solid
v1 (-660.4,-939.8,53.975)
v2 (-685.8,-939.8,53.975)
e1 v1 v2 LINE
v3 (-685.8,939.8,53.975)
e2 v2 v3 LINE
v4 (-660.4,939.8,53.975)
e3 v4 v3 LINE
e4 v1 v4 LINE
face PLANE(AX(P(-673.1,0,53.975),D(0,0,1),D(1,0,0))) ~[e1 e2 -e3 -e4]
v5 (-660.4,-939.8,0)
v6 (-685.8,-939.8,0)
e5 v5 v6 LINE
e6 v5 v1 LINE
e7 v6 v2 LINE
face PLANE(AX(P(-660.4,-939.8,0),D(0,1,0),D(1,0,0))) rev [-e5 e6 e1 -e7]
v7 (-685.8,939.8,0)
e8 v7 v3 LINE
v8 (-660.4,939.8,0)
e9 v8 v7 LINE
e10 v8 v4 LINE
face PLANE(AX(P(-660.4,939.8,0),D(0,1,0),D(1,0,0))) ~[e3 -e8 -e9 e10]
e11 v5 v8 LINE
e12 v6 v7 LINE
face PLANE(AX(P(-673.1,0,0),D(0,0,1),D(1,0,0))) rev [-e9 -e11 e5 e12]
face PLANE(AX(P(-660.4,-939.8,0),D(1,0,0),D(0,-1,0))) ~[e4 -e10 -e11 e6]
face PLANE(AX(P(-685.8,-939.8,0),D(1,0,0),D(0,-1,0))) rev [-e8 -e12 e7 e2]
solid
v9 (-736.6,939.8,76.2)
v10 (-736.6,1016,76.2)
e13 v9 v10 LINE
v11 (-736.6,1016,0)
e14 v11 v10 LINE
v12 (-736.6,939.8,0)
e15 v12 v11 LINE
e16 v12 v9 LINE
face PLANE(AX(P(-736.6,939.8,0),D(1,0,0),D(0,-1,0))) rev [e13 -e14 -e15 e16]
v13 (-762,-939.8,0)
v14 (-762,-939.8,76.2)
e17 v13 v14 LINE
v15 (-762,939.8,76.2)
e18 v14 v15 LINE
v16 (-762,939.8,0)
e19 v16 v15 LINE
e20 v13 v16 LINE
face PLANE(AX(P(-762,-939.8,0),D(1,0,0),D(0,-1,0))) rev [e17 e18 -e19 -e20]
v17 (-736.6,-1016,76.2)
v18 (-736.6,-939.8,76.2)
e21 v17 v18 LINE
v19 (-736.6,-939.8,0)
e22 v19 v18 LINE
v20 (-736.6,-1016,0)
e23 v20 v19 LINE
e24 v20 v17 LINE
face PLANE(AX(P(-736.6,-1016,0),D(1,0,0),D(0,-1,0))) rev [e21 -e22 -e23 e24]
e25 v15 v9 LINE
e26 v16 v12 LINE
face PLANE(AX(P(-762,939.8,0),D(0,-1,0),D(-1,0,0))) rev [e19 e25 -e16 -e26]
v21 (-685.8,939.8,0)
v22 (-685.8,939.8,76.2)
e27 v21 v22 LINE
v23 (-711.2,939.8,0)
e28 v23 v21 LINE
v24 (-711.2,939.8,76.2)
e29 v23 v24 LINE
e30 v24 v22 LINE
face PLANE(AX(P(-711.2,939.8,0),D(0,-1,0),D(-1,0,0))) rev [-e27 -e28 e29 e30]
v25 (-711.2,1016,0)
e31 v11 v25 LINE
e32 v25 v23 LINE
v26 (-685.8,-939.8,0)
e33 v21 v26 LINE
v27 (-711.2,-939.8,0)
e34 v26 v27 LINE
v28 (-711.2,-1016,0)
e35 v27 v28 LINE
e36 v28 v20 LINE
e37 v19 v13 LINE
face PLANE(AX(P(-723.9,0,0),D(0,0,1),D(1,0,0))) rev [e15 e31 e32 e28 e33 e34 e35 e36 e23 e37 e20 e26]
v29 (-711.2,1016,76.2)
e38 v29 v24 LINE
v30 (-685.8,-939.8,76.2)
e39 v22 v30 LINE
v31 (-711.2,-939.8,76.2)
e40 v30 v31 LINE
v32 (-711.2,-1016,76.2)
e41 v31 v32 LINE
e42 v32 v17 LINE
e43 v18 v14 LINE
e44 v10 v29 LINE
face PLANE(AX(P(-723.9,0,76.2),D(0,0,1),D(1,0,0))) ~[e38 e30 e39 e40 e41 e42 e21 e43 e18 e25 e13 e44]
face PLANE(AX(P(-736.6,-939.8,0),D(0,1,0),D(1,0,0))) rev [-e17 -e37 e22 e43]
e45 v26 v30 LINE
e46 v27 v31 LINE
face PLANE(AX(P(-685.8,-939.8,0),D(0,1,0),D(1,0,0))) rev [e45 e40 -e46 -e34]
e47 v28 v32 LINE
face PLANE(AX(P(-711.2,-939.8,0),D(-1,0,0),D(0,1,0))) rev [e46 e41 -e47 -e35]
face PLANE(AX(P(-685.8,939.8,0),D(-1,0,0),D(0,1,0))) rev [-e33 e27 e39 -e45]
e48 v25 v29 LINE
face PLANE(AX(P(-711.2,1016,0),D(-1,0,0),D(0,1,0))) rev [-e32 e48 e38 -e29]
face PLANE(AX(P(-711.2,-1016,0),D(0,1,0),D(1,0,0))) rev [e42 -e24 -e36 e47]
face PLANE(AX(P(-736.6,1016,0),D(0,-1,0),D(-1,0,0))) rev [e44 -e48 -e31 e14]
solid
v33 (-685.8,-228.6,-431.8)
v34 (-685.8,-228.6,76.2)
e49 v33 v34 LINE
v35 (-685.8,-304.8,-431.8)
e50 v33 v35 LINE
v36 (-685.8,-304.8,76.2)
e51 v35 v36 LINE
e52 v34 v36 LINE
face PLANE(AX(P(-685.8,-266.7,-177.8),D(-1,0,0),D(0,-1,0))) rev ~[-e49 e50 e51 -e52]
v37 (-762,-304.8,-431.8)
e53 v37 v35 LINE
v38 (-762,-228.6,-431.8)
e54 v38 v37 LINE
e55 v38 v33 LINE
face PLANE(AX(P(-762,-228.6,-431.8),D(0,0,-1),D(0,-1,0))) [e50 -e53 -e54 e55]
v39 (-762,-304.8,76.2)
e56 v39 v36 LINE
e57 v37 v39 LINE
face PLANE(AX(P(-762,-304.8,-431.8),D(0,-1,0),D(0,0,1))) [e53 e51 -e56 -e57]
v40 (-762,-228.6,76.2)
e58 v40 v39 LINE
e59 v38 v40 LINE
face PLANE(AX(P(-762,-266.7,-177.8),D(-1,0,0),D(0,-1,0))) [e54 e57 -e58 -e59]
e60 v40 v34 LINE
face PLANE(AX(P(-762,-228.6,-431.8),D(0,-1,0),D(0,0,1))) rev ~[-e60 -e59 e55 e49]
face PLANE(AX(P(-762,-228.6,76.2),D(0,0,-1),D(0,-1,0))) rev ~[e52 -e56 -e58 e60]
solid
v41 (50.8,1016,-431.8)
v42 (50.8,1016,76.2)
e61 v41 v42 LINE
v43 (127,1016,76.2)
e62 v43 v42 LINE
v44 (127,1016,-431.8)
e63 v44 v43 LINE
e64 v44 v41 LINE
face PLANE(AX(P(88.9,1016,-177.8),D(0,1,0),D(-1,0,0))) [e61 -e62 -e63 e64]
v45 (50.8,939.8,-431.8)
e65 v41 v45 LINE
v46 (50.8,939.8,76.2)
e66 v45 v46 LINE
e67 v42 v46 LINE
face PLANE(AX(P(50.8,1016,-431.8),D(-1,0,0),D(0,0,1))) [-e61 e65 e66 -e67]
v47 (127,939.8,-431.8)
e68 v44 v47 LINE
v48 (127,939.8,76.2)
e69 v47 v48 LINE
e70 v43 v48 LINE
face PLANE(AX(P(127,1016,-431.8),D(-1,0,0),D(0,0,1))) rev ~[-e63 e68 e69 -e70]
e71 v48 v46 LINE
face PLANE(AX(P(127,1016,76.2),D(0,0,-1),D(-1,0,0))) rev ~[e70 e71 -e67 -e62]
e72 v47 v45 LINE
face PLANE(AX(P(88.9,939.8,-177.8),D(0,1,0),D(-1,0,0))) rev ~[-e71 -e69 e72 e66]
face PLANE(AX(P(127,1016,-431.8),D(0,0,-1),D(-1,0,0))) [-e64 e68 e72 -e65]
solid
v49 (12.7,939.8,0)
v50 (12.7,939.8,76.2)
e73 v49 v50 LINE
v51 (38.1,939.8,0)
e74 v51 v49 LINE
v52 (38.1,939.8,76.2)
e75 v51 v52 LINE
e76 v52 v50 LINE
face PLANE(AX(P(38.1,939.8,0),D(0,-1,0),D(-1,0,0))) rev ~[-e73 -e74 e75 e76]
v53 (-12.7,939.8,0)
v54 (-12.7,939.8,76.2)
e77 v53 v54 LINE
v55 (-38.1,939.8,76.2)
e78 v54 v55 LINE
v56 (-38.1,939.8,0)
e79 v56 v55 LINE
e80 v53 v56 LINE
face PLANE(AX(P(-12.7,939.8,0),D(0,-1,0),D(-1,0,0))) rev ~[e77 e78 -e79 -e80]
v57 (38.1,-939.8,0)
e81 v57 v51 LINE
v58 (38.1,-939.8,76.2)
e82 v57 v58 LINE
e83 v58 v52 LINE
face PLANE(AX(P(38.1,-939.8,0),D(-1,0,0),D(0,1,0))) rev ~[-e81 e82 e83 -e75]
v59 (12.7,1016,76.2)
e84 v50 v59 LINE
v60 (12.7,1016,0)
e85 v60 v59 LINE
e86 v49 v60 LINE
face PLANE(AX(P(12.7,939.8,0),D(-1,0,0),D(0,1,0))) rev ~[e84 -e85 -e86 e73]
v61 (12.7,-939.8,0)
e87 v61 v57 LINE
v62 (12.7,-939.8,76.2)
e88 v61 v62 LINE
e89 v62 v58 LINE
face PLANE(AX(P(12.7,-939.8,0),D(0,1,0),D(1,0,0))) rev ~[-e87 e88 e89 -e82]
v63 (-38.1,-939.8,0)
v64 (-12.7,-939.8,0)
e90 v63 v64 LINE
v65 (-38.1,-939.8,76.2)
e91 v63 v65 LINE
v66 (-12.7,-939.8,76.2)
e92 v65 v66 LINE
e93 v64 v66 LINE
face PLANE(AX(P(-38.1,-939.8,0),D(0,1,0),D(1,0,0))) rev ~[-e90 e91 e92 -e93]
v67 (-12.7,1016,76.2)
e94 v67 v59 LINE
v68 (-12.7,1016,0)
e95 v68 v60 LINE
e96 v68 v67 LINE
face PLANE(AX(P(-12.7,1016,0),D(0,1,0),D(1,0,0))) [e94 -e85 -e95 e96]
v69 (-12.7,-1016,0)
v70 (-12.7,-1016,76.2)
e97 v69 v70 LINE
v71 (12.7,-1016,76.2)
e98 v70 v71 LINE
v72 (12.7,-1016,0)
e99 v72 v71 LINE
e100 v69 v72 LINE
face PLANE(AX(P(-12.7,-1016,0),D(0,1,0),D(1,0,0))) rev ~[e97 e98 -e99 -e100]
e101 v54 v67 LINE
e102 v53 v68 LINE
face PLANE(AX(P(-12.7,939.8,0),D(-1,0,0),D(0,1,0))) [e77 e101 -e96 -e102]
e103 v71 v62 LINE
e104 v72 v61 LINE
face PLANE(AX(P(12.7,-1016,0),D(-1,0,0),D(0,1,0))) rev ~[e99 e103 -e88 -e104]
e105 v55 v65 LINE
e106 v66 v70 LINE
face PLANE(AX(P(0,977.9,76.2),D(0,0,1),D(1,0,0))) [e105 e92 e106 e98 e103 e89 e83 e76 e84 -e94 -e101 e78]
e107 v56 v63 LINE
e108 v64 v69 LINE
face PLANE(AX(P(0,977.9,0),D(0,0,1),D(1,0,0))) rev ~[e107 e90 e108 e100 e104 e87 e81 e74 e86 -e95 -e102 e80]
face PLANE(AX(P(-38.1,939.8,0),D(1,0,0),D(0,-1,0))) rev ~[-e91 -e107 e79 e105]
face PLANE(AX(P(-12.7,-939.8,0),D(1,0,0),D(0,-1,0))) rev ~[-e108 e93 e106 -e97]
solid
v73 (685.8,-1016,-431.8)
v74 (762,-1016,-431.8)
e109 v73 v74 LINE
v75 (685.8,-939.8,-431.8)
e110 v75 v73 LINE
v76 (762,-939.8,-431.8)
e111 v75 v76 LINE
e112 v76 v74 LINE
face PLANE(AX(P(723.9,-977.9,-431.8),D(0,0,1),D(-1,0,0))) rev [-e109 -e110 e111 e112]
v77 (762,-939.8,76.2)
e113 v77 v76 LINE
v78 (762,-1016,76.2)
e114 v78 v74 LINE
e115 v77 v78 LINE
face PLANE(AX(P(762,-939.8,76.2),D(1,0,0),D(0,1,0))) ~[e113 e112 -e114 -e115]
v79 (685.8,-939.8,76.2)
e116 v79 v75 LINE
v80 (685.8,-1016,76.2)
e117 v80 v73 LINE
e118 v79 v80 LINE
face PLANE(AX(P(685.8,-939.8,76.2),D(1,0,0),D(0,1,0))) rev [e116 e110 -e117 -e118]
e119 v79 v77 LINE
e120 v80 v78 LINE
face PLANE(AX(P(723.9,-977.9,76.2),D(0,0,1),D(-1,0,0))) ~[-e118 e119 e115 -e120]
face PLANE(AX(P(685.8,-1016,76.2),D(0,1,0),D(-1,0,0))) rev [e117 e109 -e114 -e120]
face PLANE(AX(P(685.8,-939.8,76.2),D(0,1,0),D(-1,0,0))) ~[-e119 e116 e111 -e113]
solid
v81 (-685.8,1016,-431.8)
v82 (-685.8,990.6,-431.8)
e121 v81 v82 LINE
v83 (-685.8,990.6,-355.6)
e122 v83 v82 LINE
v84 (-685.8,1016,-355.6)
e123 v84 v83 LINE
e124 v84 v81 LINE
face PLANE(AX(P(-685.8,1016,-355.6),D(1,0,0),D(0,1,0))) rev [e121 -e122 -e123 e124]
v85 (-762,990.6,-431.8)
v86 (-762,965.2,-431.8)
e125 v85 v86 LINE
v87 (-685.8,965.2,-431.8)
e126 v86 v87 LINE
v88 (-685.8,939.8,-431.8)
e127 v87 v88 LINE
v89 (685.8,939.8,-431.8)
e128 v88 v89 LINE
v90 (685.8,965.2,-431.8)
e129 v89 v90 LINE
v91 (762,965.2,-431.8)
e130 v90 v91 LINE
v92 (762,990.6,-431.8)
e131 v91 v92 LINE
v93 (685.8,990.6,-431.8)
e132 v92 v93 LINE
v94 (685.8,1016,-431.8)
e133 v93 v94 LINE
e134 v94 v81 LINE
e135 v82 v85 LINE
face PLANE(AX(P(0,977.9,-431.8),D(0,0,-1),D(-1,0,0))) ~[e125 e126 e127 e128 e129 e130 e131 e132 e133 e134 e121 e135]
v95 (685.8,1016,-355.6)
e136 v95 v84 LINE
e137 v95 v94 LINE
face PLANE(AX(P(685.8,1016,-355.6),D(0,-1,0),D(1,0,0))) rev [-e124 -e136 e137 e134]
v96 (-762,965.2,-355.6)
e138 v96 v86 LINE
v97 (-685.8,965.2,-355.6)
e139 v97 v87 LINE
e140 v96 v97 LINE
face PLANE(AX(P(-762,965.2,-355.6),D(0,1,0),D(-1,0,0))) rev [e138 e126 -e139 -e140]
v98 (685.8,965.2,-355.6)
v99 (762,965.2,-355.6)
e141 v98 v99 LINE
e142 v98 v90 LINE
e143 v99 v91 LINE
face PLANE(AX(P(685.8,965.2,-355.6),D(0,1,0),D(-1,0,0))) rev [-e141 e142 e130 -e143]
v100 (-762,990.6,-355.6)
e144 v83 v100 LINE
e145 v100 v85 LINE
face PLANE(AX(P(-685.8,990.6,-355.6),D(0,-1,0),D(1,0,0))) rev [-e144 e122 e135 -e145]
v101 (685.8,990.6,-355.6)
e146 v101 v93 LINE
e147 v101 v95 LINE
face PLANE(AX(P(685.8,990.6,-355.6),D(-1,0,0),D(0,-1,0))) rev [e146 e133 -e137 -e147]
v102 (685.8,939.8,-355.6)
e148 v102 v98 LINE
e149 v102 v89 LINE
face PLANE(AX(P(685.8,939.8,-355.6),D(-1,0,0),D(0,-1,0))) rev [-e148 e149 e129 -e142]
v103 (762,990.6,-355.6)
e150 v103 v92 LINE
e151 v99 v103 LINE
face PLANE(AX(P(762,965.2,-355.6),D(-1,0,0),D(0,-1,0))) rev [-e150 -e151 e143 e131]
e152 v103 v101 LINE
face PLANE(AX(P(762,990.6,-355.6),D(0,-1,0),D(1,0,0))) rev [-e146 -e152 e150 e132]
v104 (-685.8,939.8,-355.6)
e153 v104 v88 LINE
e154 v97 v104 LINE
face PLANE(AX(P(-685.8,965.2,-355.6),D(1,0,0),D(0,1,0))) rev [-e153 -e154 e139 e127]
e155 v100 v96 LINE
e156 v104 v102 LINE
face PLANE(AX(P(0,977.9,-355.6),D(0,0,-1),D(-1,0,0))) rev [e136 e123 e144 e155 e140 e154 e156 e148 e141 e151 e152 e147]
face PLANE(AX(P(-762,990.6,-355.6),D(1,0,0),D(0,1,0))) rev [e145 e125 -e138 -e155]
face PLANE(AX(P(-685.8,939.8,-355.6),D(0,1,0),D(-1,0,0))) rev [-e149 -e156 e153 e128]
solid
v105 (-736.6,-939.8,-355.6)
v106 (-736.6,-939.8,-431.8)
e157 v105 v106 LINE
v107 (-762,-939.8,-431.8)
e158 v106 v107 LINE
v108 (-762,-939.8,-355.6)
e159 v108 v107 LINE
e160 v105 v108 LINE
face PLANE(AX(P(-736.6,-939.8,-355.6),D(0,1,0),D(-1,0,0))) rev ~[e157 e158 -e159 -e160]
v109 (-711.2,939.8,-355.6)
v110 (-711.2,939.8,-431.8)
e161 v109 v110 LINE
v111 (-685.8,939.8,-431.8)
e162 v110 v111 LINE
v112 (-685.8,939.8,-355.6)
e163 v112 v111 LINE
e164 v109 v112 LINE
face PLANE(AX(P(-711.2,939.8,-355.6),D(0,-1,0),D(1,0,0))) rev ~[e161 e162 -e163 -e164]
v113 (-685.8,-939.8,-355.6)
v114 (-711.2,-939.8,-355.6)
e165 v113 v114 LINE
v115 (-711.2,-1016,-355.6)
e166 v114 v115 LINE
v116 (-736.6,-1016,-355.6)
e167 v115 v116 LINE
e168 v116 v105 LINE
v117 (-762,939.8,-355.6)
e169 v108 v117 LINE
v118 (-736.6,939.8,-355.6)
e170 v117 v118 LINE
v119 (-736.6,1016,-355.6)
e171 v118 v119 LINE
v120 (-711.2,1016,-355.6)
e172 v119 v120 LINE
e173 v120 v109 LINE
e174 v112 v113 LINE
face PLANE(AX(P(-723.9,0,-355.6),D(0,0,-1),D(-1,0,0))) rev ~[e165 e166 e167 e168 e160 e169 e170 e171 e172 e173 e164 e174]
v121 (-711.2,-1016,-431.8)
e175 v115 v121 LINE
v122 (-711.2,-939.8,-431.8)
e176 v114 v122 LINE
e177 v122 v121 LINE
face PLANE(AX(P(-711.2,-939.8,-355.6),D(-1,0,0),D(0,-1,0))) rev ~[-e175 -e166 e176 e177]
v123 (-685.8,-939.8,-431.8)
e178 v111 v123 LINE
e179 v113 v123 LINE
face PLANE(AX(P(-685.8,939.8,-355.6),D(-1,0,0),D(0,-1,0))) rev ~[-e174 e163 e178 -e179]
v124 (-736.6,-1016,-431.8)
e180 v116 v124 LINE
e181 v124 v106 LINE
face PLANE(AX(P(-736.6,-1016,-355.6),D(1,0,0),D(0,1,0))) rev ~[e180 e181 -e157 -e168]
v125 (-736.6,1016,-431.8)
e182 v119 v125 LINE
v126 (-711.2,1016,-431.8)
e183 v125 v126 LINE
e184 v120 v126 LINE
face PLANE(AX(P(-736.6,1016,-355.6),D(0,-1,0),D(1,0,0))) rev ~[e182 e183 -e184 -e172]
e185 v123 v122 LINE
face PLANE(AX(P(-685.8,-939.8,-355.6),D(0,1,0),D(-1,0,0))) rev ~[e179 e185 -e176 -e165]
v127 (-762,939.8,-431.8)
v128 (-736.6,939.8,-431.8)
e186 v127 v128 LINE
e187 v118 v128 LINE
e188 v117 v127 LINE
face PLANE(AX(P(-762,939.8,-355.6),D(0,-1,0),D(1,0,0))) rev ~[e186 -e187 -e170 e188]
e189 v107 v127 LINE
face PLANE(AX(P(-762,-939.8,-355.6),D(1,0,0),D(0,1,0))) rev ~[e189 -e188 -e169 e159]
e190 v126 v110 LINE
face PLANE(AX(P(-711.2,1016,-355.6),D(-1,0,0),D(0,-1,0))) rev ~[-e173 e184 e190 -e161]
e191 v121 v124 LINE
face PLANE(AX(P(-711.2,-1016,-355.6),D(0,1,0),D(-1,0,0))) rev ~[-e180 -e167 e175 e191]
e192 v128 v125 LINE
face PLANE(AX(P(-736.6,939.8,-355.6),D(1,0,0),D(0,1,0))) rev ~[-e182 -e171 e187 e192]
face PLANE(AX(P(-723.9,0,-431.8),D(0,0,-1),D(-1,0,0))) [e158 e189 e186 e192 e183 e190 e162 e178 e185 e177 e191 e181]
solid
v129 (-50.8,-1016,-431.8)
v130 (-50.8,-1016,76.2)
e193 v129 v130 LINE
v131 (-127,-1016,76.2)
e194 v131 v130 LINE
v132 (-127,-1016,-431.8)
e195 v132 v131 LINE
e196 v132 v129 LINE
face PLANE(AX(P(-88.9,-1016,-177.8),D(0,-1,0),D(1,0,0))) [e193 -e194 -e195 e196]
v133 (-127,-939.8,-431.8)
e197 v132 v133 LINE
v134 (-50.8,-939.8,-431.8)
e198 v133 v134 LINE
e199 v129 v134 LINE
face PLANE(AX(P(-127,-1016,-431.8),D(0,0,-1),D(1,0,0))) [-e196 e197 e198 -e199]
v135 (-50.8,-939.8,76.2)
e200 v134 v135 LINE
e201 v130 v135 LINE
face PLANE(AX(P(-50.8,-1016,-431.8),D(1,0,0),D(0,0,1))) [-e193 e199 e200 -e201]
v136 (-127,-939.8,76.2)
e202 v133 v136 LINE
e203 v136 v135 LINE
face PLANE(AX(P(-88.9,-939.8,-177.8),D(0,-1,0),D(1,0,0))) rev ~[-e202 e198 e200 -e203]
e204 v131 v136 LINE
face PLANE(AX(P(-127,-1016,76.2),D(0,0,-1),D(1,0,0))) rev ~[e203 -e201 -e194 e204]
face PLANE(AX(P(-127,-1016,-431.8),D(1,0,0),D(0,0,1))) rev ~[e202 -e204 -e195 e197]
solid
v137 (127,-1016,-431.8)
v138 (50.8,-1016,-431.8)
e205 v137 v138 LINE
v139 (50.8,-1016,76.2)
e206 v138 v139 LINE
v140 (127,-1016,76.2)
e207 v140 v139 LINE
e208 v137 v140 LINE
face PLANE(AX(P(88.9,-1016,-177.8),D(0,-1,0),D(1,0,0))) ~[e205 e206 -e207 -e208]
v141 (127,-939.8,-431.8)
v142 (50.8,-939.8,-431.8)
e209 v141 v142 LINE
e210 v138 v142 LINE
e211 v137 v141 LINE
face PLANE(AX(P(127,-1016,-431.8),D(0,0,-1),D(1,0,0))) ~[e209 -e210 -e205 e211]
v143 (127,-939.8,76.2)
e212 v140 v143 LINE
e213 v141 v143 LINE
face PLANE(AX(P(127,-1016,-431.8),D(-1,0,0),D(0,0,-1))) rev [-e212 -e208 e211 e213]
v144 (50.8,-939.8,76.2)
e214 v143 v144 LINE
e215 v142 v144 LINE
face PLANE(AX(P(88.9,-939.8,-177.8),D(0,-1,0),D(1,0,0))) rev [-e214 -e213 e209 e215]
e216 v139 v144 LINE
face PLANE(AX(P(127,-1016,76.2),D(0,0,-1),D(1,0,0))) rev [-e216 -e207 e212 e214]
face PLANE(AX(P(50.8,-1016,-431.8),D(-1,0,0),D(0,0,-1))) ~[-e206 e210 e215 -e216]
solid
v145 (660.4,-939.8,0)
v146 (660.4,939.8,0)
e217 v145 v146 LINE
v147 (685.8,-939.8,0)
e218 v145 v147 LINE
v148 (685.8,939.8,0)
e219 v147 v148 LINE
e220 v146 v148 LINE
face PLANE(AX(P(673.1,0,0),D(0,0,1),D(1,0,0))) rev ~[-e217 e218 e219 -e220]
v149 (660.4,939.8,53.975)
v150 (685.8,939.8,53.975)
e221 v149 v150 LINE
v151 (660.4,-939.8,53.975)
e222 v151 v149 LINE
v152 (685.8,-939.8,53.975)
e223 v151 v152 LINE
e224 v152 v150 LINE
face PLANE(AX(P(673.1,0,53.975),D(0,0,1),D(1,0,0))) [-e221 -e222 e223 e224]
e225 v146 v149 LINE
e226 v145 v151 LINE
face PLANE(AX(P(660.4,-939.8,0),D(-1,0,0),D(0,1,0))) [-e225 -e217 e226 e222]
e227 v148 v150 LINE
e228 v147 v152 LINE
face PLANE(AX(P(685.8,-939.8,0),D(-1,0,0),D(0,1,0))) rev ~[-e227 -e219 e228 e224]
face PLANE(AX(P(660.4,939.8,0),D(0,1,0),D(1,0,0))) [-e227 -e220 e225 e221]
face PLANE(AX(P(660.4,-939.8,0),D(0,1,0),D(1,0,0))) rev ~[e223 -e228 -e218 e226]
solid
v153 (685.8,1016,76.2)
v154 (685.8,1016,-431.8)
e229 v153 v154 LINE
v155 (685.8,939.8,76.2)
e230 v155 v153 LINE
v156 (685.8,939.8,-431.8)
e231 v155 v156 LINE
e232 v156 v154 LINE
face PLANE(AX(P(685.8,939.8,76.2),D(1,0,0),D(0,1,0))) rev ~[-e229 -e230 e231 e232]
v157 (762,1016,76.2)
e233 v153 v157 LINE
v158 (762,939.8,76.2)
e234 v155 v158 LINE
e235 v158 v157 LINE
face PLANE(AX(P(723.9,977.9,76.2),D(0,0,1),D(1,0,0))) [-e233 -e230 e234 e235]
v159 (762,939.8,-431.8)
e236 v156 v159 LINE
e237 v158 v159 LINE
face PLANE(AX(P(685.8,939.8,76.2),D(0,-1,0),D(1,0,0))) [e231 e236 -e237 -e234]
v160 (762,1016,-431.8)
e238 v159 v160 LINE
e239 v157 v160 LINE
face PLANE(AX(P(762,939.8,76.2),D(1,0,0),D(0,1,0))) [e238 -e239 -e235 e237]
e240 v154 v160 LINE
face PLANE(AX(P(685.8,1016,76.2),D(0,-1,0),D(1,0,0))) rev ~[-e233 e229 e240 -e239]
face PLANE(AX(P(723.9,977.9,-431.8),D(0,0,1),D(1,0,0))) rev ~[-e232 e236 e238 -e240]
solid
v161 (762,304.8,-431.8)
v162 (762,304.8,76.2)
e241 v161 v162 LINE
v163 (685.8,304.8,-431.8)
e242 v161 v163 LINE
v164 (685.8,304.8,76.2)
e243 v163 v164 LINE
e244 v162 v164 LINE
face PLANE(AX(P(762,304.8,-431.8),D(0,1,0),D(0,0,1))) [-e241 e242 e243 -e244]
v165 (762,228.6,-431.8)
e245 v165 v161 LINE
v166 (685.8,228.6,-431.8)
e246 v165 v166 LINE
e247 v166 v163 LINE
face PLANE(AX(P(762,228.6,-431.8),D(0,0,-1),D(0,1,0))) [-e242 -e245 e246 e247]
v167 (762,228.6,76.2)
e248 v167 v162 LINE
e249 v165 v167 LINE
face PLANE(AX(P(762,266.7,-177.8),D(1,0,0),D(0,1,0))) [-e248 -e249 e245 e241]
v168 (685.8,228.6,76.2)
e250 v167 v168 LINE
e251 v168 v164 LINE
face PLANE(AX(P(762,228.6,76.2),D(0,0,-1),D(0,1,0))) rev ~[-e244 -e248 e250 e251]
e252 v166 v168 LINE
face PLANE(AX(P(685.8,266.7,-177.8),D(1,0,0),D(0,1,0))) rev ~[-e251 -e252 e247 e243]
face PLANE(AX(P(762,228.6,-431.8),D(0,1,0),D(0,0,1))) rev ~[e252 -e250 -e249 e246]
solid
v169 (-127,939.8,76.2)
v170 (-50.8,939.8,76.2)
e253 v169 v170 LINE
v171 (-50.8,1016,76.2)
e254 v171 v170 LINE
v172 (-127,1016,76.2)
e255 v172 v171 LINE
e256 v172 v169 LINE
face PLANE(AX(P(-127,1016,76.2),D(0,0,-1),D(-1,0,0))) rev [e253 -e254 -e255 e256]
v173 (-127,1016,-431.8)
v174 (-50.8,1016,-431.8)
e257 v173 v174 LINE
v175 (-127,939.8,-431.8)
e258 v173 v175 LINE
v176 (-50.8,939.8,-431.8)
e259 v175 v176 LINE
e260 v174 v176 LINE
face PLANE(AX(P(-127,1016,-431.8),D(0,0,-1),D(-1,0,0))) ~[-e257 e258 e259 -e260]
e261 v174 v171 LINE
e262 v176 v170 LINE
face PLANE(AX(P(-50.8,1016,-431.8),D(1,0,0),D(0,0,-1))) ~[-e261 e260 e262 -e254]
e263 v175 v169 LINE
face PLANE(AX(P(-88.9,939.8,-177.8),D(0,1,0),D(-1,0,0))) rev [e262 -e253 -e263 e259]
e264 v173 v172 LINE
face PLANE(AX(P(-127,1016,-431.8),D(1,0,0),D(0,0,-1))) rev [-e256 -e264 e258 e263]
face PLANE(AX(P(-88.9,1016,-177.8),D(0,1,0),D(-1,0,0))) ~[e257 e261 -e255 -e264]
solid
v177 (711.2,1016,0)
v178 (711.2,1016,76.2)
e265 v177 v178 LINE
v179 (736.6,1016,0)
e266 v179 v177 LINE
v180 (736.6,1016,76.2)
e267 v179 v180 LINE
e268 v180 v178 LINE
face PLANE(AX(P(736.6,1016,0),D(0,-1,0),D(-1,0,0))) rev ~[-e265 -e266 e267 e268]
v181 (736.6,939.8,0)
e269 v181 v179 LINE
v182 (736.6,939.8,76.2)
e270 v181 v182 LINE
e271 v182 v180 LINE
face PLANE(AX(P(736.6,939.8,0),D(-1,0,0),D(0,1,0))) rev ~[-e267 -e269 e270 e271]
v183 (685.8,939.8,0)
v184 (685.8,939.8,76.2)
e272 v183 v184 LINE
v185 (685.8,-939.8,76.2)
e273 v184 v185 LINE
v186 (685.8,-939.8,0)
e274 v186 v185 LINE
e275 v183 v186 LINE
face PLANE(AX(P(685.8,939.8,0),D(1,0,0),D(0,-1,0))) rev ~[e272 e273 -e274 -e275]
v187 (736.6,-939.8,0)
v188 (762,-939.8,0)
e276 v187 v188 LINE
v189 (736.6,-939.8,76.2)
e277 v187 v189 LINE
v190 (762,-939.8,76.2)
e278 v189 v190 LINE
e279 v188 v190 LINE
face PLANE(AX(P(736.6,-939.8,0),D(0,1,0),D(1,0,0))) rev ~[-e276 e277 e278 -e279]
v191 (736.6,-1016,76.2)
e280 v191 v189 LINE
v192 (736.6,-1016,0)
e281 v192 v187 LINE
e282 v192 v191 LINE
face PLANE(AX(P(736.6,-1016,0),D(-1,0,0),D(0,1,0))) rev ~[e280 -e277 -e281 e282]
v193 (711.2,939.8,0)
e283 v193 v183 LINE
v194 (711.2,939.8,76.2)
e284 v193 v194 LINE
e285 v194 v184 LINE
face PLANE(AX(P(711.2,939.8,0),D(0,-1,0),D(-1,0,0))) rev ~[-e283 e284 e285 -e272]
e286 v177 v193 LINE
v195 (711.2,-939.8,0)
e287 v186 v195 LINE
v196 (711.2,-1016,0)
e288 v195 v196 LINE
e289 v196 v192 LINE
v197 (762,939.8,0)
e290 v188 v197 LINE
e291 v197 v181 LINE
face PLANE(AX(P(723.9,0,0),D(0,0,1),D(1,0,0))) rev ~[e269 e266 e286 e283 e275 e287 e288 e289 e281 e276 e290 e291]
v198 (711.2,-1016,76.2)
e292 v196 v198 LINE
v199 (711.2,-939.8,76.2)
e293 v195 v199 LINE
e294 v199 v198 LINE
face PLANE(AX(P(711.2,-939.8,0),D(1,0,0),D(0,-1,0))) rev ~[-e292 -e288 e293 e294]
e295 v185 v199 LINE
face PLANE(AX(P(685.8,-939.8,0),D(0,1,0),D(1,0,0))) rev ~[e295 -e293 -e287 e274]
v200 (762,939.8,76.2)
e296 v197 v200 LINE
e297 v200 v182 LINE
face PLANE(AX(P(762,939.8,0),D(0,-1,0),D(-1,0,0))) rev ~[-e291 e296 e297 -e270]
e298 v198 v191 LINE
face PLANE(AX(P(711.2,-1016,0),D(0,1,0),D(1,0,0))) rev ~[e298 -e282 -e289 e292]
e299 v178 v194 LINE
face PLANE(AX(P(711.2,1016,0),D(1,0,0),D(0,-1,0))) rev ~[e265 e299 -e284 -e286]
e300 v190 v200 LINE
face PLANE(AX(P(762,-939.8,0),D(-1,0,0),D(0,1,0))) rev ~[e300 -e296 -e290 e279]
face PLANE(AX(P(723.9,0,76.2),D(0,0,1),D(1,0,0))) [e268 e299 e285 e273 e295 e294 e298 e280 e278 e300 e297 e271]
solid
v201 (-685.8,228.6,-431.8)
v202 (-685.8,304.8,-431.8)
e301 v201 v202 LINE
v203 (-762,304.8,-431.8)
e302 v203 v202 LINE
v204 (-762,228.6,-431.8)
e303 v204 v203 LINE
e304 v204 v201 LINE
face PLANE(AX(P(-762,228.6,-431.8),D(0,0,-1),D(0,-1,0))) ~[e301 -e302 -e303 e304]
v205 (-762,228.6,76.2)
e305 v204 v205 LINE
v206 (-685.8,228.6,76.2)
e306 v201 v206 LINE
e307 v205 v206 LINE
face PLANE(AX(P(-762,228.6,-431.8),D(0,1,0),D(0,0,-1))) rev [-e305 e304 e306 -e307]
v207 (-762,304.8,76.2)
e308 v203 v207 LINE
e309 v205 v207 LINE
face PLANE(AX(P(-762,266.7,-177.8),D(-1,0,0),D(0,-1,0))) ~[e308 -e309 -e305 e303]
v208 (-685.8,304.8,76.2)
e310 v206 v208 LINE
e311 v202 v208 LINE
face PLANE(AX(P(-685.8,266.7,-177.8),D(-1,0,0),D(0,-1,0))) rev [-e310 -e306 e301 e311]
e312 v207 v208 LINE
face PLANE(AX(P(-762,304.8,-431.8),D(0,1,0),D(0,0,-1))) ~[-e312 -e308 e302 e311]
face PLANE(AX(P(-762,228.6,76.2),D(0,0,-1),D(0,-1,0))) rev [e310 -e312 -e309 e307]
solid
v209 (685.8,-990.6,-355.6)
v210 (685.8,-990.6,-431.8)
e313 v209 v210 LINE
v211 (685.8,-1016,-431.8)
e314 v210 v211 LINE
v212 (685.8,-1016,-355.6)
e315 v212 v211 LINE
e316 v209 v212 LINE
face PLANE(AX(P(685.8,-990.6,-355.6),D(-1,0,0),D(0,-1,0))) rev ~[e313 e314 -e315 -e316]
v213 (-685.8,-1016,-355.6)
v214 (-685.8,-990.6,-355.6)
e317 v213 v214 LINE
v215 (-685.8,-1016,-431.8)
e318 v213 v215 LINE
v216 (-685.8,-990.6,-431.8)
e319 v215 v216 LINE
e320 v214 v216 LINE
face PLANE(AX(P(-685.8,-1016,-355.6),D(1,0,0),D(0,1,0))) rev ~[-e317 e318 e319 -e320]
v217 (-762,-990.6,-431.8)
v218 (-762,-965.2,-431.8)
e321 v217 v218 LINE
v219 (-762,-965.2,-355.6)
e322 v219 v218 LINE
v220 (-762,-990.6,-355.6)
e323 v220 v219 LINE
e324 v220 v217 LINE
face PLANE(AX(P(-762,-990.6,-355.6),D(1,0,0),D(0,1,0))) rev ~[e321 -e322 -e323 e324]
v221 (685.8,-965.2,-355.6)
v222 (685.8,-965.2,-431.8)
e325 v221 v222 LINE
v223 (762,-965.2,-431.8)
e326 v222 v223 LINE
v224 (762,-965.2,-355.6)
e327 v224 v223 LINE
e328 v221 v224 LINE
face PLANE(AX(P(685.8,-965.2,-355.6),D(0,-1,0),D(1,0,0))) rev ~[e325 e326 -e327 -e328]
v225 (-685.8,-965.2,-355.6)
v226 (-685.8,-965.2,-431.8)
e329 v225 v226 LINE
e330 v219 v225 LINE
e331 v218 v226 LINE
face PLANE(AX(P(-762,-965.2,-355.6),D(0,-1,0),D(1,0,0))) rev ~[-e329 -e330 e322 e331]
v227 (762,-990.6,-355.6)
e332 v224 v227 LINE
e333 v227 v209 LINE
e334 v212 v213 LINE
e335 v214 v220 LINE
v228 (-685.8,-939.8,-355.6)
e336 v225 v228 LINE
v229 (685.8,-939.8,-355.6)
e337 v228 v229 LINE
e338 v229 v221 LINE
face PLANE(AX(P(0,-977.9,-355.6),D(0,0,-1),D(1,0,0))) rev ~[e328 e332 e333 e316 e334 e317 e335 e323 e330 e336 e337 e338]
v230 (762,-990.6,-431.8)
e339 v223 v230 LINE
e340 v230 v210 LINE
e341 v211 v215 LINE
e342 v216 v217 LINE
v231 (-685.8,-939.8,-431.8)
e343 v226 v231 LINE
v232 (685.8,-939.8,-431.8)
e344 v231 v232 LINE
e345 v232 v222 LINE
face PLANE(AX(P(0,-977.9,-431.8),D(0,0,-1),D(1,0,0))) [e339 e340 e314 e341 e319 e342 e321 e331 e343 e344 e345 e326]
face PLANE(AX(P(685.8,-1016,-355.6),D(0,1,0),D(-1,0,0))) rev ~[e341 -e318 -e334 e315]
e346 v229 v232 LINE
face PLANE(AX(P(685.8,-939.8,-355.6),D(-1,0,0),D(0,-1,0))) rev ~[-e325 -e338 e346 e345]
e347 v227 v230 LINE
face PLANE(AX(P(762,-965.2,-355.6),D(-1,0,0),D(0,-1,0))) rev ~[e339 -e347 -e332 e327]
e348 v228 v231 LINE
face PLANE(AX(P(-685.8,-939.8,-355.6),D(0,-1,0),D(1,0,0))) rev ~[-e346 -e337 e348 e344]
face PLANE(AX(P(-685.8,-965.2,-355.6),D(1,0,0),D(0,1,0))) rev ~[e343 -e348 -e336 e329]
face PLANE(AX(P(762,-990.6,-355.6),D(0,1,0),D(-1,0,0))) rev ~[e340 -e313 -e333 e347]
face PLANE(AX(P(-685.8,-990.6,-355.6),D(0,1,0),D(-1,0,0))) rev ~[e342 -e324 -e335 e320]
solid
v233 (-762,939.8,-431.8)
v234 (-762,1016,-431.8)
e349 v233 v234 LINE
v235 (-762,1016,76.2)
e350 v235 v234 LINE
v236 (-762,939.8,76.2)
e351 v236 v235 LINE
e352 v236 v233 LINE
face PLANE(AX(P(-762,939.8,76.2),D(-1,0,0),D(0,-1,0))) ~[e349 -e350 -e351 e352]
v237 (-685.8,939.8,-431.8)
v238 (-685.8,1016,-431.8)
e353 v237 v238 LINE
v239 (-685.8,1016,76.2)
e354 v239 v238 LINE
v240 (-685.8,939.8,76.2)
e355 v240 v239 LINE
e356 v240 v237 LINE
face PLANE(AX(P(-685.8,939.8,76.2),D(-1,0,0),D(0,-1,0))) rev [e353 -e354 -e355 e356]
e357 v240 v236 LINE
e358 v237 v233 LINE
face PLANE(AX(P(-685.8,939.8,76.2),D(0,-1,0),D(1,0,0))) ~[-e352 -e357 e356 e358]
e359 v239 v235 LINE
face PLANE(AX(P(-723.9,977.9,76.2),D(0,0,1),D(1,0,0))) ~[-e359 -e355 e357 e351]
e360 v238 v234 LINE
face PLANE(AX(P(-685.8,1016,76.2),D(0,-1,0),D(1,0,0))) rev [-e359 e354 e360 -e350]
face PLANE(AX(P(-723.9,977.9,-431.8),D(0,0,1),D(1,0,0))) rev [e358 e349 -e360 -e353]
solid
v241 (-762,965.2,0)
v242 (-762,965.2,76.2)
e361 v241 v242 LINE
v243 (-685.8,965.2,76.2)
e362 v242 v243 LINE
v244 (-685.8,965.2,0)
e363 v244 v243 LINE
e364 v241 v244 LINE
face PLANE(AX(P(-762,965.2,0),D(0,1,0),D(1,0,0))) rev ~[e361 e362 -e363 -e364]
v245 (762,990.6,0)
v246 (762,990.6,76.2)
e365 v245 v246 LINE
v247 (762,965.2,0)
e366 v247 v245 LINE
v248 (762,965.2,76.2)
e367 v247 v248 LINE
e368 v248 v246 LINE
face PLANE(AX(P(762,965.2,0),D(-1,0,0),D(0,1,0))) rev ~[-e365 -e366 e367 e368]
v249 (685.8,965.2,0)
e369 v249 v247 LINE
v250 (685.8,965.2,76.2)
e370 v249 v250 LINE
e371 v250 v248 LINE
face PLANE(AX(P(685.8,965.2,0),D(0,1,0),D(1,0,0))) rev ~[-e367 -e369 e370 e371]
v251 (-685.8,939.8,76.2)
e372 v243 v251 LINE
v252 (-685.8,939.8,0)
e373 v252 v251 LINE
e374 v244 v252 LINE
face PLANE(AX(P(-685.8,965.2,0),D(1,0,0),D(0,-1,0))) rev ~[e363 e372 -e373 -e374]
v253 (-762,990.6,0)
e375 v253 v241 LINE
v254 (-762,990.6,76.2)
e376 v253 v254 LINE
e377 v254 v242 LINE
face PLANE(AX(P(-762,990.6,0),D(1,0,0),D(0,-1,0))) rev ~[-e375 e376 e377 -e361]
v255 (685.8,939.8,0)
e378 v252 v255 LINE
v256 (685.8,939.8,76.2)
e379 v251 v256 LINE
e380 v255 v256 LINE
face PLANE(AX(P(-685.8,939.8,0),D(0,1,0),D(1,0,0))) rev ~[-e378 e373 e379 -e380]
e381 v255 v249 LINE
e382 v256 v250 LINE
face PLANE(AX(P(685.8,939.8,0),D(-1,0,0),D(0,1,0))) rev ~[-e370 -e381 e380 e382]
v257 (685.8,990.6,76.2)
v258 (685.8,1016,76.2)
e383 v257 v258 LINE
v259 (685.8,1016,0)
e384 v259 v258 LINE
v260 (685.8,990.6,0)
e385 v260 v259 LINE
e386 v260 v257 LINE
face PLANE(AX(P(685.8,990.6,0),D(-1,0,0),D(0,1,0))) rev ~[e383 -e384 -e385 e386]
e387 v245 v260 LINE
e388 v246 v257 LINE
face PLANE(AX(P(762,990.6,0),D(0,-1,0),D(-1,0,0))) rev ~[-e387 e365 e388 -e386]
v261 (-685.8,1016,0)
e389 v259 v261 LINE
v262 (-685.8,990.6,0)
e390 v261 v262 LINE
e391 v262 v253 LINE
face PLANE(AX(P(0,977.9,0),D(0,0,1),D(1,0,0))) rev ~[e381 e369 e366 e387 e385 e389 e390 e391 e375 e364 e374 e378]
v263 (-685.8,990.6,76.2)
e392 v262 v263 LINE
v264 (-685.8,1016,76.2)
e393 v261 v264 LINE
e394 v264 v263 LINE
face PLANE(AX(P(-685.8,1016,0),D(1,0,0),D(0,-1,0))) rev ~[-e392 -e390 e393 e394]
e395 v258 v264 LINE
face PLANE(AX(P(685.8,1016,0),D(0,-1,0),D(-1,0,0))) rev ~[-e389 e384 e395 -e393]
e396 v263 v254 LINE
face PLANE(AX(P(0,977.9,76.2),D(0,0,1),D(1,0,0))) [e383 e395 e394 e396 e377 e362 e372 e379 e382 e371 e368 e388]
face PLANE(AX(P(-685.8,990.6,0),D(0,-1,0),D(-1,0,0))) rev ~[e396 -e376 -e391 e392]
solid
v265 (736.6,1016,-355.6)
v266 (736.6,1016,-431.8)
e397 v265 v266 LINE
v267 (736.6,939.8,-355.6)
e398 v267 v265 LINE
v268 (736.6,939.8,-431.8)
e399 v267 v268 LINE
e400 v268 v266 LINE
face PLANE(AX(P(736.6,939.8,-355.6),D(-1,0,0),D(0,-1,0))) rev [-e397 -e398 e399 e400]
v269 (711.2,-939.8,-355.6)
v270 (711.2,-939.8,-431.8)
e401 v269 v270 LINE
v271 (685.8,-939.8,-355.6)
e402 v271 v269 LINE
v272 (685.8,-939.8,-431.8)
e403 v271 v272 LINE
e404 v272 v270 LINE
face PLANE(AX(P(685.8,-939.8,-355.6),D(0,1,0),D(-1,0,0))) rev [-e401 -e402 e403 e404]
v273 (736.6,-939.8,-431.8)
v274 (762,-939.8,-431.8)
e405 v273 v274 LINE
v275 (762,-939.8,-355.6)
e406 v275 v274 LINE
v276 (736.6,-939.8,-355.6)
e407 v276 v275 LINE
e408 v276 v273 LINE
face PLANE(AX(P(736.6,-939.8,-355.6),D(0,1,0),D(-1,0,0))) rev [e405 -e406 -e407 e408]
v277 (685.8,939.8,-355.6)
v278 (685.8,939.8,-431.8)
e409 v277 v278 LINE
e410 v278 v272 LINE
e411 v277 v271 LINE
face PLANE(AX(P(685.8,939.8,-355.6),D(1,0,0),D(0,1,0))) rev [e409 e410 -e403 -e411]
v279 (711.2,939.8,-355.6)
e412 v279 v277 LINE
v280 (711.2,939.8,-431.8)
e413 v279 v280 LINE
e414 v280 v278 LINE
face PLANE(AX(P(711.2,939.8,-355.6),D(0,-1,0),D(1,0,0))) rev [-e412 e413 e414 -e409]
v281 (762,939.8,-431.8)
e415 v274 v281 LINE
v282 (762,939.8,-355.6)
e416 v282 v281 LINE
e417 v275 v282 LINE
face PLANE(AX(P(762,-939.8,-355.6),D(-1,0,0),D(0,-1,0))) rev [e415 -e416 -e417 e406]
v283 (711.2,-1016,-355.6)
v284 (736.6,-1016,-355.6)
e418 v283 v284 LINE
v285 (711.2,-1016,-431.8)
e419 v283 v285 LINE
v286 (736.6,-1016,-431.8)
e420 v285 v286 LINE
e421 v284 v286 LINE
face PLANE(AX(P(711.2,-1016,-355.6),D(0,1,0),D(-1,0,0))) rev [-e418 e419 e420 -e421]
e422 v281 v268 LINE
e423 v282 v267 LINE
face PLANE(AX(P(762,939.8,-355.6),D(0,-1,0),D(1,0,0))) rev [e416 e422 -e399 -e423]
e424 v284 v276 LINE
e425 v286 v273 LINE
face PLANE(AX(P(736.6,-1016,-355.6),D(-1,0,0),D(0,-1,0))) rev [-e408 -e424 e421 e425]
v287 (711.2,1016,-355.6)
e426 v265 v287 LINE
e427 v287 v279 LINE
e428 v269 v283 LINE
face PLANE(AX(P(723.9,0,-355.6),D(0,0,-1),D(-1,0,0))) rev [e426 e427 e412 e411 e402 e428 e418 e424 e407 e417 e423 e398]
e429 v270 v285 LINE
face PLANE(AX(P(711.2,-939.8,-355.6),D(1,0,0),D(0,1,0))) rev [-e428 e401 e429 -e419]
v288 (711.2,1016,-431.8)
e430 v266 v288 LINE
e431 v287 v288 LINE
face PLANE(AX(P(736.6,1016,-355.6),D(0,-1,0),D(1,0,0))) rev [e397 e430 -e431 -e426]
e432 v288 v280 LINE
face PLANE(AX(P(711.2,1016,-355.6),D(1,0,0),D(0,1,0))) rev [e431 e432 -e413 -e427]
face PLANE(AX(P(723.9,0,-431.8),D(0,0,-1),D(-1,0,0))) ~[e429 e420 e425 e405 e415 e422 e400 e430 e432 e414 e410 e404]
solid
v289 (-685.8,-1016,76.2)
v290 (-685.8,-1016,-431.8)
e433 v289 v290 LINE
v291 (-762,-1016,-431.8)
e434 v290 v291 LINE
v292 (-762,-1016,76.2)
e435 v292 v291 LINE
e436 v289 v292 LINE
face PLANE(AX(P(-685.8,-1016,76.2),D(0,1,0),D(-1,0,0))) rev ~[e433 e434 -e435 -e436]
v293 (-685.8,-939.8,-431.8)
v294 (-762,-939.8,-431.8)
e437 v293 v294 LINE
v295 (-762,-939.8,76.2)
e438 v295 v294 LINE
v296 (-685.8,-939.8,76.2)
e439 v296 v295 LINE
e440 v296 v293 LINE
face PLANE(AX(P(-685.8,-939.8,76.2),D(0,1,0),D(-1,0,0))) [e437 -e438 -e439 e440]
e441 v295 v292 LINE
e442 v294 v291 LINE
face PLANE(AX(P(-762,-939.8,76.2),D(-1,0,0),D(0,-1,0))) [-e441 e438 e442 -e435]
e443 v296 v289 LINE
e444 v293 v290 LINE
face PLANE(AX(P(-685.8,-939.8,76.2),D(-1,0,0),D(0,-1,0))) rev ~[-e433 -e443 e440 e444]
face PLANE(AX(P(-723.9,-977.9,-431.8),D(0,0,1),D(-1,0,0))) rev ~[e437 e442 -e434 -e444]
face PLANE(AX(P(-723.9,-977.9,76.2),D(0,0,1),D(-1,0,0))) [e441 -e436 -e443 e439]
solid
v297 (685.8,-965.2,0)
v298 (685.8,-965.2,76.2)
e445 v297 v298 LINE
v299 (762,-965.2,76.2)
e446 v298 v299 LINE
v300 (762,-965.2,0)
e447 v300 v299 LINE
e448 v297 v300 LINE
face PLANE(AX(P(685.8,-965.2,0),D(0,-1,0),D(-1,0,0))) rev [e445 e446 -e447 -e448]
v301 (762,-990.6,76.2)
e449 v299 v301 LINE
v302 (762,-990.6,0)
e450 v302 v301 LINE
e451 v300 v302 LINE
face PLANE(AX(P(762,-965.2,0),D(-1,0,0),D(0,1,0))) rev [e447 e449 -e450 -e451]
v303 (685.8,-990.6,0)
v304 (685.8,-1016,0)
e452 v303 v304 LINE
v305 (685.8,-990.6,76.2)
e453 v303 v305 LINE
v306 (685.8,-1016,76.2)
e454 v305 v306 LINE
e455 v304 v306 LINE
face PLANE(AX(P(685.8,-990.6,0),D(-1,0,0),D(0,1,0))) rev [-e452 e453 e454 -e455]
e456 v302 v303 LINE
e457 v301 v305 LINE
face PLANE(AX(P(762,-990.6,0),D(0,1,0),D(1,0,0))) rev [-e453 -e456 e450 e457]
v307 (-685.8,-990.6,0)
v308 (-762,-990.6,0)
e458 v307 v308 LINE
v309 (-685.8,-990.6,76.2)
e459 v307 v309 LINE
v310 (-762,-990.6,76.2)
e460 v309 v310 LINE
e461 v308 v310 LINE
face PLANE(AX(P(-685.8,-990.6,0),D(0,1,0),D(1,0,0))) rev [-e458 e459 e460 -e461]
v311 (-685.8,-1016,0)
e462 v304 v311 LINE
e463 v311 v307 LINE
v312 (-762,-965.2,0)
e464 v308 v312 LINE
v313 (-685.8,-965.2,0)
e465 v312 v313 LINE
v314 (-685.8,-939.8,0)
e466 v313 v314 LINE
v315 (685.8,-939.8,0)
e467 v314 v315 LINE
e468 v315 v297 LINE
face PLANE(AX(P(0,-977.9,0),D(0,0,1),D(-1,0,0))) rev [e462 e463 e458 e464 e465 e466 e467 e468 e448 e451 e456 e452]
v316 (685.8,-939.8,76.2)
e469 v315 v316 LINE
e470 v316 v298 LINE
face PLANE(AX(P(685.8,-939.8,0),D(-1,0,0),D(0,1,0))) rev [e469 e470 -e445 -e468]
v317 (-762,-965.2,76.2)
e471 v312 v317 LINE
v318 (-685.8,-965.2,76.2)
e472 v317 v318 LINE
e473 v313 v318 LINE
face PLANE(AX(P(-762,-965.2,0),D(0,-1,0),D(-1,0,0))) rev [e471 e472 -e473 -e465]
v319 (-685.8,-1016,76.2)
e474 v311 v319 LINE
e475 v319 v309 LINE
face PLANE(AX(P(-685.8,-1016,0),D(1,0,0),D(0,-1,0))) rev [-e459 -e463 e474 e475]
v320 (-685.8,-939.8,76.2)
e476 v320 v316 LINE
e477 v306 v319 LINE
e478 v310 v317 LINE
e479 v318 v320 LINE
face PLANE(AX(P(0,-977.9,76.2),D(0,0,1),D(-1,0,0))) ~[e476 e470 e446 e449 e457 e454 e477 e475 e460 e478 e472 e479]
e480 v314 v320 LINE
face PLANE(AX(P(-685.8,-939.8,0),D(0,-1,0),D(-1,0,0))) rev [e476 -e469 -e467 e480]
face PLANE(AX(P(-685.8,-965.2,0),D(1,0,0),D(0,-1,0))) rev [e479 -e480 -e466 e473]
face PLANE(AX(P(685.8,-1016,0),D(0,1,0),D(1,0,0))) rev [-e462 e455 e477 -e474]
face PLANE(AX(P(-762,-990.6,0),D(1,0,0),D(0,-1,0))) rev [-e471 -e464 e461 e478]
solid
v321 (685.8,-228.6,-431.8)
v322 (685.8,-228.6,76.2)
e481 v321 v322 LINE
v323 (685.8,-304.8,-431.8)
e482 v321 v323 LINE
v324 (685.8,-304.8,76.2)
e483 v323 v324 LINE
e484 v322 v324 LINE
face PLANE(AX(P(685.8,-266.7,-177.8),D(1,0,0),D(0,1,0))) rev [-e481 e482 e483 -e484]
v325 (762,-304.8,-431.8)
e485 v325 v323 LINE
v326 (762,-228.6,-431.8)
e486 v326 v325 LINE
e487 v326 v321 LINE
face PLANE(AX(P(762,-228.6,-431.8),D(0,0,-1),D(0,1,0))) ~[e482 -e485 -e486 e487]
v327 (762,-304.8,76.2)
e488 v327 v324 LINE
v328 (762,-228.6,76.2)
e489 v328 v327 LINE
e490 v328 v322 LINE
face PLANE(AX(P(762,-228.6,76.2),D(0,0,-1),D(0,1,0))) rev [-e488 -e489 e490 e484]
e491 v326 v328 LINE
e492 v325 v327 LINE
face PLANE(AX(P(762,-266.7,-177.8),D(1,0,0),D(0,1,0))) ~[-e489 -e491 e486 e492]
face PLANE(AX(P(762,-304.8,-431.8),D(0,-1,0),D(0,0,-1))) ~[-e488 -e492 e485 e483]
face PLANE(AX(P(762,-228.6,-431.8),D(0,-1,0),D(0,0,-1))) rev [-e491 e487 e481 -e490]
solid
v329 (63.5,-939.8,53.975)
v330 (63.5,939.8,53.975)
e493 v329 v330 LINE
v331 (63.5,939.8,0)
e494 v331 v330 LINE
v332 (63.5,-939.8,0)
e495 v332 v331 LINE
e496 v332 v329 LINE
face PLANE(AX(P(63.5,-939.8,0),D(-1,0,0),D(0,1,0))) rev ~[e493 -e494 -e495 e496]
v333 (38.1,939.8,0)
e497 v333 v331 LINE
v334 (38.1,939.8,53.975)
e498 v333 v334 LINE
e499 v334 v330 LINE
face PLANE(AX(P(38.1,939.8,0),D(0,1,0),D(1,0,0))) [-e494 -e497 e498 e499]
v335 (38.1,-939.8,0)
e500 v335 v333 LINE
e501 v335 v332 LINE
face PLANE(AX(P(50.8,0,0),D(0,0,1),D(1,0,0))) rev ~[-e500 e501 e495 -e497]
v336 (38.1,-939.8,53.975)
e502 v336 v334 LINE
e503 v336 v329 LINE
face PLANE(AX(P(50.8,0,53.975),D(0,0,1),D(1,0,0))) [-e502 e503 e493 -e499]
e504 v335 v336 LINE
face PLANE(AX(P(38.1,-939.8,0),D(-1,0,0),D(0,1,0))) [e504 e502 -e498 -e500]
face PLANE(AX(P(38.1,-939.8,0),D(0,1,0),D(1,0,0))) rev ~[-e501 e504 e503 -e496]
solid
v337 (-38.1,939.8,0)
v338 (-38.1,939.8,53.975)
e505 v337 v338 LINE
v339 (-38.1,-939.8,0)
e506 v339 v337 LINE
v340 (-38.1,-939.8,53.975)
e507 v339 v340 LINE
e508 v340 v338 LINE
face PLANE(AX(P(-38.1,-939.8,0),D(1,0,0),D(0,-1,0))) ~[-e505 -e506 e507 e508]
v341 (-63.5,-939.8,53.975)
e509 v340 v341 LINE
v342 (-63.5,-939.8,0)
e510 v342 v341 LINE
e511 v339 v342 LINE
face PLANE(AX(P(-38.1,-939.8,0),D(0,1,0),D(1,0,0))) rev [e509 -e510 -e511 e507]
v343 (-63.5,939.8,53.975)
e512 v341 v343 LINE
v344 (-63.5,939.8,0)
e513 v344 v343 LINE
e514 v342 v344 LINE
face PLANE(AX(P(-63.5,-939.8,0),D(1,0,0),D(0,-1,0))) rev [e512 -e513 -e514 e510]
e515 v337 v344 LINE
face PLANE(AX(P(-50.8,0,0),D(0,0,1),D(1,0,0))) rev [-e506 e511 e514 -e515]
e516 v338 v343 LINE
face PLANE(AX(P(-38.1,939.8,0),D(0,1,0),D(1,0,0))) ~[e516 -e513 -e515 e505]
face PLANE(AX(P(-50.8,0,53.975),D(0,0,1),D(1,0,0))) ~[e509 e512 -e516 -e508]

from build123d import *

# Parameters (mm, degrees)
F2_DEPTH  = 76.2
F4_DEPTH  = 76.2
F5_W      = 25.4
F5_H      = 76.2
F6_DEPTH  = 76.2
F7_W      = 25.4
F7_H      = 1879.6
F8_DEPTH  = 53.975
F9_W      = 76.2
F9_H      = 76.2
F10_DEPTH = 508
F12_W     = 76.2
F12_H     = 508
F13_DEPTH = 76.2
F14_W     = 76.2
F14_H     = 508
F15_DEPTH = 76.2


with BuildPart() as f2:
    # F1 (on Top) → F2 (new body)
    with BuildSketch(Plane.XY):
        Polygon((685.8, 1016), (-685.8, 1016), (-685.8, 990.6), (-762, 990.6), (-762, 965.2), (-685.8, 965.2), (-685.8, 939.8), (685.8, 939.8), (685.8, 965.2), (762, 965.2), (762, 990.6), (685.8, 990.6), align=None)
    extrude(amount=F2_DEPTH)


with BuildPart() as f4:
    # F3 (on Top) → F4 (new body)
    with BuildSketch(Plane.XY):
        Polygon((762, -939.8), (762, 939.8), (736.6, 939.8), (736.6, 1016), (711.2, 1016), (711.2, 939.8), (685.8, 939.8), (685.8, -939.8), (711.2, -939.8), (711.2, -1016), (736.6, -1016), (736.6, -939.8), align=None)
    extrude(amount=F4_DEPTH)


with BuildPart() as f6:
    # F5 (on Top) → F6 (new body)
    with BuildSketch(Plane.XY):
        with Locations((0, 977.9)):
            Rectangle(F5_W, F5_H)
        Polygon((12.7, 939.8), (-12.7, 939.8), (-38.1, 939.8), (-38.1, -939.8), (-12.7, -939.8), (-12.7, -1016), (12.7, -1016), (12.7, -939.8), (38.1, -939.8), (38.1, 939.8), align=None)
    extrude(amount=F6_DEPTH)


with BuildPart() as f8:
    # F7 (on Top) → F8 (new body)
    with BuildSketch(Plane.XY):
        with Locations((673.1, 0)):
            Rectangle(F7_W, F7_H)
        with Locations((50.8, 0)):
            Rectangle(F7_W, F7_H)
    extrude(amount=F8_DEPTH)


with BuildPart() as f10:
    # F9 (on face) → F10 (new body)
    with BuildSketch(Plane.XY.offset(76.2)):
        with Locations((723.9, 977.9)):
            Rectangle(F9_W, F9_H)
    extrude(amount=-F10_DEPTH)


with BuildPart() as f13:
    # F12 (on face) → F13 (new body)
    with BuildSketch(Plane(origin=(0, 1016, 0), x_dir=(-1, 0, 0), z_dir=(0, 1, 0))):
        with Locations((-88.9, -177.8)):
            Rectangle(F12_W, F12_H)
    extrude(amount=-F13_DEPTH)


with BuildPart() as f15:
    # F14 (on face) → F15 (new body)
    with BuildSketch(Plane.YZ.offset(762)):
        with Locations((266.7, -177.8)):
            Rectangle(F14_W, F14_H)
    extrude(amount=-F15_DEPTH)


with BuildPart() as f16_1:
    # F16: instance of F2
    add(f2.part.mirror(Plane.XZ))


with BuildPart() as f16_2:
    # F16: instance of F13
    add(f13.part.mirror(Plane.XZ))


with BuildPart() as f16_3:
    # F16: instance of F10
    add(f10.part.mirror(Plane.XZ))


with BuildPart() as f16_4:
    # F16: instance of F15
    add(f15.part.mirror(Plane.XZ))


with BuildPart() as f17_1:
    # F17: instance of F16_3
    add(f16_3.part.mirror(Plane.YZ))


with BuildPart() as f17_2:
    # F17: instance of F16_2
    add(f16_2.part.mirror(Plane.YZ))


with BuildPart() as f17_3:
    # F17: instance of F16_4
    add(f16_4.part.mirror(Plane.YZ))


with BuildPart() as f17_4:
    # F17: instance of F15
    add(f15.part.mirror(Plane.YZ))


with BuildPart() as f17_5:
    # F17: instance of F10
    add(f10.part.mirror(Plane.YZ))


with BuildPart() as f17_6:
    # F17: instance of F13
    add(f13.part.mirror(Plane.YZ))


with BuildPart() as f17_7:
    # F17: instance of F8
    add(f8.part.mirror(Plane.YZ))


with BuildPart() as f17_8:
    # F17: instance of F4
    add(f4.part.mirror(Plane.YZ))


with BuildPart() as f18_1:
    # F18: instance of F16_1
    add(f16_1.part.mirror(Plane.XY.offset(-177.8)))


with BuildPart() as f18_2:
    # F18: instance of F4
    add(f4.part.mirror(Plane.XY.offset(-177.8)))


with BuildPart() as f18_3:
    # F18: instance of F2
    add(f2.part.mirror(Plane.XY.offset(-177.8)))


with BuildPart() as f18_4:
    # F18: instance of F17_8
    add(f17_8.part.mirror(Plane.XY.offset(-177.8)))


solid = Compound([f2.part, f4.part, f6.part, f8.part, f10.part, f13.part, f15.part, f16_1.part, f16_2.part, f16_3.part, f16_4.part, f17_1.part, f17_2.part, f17_3.part, f17_4.part, f17_5.part, f17_6.part, f17_7.part, f17_8.part, f18_1.part, f18_2.part, f18_3.part, f18_4.part])
